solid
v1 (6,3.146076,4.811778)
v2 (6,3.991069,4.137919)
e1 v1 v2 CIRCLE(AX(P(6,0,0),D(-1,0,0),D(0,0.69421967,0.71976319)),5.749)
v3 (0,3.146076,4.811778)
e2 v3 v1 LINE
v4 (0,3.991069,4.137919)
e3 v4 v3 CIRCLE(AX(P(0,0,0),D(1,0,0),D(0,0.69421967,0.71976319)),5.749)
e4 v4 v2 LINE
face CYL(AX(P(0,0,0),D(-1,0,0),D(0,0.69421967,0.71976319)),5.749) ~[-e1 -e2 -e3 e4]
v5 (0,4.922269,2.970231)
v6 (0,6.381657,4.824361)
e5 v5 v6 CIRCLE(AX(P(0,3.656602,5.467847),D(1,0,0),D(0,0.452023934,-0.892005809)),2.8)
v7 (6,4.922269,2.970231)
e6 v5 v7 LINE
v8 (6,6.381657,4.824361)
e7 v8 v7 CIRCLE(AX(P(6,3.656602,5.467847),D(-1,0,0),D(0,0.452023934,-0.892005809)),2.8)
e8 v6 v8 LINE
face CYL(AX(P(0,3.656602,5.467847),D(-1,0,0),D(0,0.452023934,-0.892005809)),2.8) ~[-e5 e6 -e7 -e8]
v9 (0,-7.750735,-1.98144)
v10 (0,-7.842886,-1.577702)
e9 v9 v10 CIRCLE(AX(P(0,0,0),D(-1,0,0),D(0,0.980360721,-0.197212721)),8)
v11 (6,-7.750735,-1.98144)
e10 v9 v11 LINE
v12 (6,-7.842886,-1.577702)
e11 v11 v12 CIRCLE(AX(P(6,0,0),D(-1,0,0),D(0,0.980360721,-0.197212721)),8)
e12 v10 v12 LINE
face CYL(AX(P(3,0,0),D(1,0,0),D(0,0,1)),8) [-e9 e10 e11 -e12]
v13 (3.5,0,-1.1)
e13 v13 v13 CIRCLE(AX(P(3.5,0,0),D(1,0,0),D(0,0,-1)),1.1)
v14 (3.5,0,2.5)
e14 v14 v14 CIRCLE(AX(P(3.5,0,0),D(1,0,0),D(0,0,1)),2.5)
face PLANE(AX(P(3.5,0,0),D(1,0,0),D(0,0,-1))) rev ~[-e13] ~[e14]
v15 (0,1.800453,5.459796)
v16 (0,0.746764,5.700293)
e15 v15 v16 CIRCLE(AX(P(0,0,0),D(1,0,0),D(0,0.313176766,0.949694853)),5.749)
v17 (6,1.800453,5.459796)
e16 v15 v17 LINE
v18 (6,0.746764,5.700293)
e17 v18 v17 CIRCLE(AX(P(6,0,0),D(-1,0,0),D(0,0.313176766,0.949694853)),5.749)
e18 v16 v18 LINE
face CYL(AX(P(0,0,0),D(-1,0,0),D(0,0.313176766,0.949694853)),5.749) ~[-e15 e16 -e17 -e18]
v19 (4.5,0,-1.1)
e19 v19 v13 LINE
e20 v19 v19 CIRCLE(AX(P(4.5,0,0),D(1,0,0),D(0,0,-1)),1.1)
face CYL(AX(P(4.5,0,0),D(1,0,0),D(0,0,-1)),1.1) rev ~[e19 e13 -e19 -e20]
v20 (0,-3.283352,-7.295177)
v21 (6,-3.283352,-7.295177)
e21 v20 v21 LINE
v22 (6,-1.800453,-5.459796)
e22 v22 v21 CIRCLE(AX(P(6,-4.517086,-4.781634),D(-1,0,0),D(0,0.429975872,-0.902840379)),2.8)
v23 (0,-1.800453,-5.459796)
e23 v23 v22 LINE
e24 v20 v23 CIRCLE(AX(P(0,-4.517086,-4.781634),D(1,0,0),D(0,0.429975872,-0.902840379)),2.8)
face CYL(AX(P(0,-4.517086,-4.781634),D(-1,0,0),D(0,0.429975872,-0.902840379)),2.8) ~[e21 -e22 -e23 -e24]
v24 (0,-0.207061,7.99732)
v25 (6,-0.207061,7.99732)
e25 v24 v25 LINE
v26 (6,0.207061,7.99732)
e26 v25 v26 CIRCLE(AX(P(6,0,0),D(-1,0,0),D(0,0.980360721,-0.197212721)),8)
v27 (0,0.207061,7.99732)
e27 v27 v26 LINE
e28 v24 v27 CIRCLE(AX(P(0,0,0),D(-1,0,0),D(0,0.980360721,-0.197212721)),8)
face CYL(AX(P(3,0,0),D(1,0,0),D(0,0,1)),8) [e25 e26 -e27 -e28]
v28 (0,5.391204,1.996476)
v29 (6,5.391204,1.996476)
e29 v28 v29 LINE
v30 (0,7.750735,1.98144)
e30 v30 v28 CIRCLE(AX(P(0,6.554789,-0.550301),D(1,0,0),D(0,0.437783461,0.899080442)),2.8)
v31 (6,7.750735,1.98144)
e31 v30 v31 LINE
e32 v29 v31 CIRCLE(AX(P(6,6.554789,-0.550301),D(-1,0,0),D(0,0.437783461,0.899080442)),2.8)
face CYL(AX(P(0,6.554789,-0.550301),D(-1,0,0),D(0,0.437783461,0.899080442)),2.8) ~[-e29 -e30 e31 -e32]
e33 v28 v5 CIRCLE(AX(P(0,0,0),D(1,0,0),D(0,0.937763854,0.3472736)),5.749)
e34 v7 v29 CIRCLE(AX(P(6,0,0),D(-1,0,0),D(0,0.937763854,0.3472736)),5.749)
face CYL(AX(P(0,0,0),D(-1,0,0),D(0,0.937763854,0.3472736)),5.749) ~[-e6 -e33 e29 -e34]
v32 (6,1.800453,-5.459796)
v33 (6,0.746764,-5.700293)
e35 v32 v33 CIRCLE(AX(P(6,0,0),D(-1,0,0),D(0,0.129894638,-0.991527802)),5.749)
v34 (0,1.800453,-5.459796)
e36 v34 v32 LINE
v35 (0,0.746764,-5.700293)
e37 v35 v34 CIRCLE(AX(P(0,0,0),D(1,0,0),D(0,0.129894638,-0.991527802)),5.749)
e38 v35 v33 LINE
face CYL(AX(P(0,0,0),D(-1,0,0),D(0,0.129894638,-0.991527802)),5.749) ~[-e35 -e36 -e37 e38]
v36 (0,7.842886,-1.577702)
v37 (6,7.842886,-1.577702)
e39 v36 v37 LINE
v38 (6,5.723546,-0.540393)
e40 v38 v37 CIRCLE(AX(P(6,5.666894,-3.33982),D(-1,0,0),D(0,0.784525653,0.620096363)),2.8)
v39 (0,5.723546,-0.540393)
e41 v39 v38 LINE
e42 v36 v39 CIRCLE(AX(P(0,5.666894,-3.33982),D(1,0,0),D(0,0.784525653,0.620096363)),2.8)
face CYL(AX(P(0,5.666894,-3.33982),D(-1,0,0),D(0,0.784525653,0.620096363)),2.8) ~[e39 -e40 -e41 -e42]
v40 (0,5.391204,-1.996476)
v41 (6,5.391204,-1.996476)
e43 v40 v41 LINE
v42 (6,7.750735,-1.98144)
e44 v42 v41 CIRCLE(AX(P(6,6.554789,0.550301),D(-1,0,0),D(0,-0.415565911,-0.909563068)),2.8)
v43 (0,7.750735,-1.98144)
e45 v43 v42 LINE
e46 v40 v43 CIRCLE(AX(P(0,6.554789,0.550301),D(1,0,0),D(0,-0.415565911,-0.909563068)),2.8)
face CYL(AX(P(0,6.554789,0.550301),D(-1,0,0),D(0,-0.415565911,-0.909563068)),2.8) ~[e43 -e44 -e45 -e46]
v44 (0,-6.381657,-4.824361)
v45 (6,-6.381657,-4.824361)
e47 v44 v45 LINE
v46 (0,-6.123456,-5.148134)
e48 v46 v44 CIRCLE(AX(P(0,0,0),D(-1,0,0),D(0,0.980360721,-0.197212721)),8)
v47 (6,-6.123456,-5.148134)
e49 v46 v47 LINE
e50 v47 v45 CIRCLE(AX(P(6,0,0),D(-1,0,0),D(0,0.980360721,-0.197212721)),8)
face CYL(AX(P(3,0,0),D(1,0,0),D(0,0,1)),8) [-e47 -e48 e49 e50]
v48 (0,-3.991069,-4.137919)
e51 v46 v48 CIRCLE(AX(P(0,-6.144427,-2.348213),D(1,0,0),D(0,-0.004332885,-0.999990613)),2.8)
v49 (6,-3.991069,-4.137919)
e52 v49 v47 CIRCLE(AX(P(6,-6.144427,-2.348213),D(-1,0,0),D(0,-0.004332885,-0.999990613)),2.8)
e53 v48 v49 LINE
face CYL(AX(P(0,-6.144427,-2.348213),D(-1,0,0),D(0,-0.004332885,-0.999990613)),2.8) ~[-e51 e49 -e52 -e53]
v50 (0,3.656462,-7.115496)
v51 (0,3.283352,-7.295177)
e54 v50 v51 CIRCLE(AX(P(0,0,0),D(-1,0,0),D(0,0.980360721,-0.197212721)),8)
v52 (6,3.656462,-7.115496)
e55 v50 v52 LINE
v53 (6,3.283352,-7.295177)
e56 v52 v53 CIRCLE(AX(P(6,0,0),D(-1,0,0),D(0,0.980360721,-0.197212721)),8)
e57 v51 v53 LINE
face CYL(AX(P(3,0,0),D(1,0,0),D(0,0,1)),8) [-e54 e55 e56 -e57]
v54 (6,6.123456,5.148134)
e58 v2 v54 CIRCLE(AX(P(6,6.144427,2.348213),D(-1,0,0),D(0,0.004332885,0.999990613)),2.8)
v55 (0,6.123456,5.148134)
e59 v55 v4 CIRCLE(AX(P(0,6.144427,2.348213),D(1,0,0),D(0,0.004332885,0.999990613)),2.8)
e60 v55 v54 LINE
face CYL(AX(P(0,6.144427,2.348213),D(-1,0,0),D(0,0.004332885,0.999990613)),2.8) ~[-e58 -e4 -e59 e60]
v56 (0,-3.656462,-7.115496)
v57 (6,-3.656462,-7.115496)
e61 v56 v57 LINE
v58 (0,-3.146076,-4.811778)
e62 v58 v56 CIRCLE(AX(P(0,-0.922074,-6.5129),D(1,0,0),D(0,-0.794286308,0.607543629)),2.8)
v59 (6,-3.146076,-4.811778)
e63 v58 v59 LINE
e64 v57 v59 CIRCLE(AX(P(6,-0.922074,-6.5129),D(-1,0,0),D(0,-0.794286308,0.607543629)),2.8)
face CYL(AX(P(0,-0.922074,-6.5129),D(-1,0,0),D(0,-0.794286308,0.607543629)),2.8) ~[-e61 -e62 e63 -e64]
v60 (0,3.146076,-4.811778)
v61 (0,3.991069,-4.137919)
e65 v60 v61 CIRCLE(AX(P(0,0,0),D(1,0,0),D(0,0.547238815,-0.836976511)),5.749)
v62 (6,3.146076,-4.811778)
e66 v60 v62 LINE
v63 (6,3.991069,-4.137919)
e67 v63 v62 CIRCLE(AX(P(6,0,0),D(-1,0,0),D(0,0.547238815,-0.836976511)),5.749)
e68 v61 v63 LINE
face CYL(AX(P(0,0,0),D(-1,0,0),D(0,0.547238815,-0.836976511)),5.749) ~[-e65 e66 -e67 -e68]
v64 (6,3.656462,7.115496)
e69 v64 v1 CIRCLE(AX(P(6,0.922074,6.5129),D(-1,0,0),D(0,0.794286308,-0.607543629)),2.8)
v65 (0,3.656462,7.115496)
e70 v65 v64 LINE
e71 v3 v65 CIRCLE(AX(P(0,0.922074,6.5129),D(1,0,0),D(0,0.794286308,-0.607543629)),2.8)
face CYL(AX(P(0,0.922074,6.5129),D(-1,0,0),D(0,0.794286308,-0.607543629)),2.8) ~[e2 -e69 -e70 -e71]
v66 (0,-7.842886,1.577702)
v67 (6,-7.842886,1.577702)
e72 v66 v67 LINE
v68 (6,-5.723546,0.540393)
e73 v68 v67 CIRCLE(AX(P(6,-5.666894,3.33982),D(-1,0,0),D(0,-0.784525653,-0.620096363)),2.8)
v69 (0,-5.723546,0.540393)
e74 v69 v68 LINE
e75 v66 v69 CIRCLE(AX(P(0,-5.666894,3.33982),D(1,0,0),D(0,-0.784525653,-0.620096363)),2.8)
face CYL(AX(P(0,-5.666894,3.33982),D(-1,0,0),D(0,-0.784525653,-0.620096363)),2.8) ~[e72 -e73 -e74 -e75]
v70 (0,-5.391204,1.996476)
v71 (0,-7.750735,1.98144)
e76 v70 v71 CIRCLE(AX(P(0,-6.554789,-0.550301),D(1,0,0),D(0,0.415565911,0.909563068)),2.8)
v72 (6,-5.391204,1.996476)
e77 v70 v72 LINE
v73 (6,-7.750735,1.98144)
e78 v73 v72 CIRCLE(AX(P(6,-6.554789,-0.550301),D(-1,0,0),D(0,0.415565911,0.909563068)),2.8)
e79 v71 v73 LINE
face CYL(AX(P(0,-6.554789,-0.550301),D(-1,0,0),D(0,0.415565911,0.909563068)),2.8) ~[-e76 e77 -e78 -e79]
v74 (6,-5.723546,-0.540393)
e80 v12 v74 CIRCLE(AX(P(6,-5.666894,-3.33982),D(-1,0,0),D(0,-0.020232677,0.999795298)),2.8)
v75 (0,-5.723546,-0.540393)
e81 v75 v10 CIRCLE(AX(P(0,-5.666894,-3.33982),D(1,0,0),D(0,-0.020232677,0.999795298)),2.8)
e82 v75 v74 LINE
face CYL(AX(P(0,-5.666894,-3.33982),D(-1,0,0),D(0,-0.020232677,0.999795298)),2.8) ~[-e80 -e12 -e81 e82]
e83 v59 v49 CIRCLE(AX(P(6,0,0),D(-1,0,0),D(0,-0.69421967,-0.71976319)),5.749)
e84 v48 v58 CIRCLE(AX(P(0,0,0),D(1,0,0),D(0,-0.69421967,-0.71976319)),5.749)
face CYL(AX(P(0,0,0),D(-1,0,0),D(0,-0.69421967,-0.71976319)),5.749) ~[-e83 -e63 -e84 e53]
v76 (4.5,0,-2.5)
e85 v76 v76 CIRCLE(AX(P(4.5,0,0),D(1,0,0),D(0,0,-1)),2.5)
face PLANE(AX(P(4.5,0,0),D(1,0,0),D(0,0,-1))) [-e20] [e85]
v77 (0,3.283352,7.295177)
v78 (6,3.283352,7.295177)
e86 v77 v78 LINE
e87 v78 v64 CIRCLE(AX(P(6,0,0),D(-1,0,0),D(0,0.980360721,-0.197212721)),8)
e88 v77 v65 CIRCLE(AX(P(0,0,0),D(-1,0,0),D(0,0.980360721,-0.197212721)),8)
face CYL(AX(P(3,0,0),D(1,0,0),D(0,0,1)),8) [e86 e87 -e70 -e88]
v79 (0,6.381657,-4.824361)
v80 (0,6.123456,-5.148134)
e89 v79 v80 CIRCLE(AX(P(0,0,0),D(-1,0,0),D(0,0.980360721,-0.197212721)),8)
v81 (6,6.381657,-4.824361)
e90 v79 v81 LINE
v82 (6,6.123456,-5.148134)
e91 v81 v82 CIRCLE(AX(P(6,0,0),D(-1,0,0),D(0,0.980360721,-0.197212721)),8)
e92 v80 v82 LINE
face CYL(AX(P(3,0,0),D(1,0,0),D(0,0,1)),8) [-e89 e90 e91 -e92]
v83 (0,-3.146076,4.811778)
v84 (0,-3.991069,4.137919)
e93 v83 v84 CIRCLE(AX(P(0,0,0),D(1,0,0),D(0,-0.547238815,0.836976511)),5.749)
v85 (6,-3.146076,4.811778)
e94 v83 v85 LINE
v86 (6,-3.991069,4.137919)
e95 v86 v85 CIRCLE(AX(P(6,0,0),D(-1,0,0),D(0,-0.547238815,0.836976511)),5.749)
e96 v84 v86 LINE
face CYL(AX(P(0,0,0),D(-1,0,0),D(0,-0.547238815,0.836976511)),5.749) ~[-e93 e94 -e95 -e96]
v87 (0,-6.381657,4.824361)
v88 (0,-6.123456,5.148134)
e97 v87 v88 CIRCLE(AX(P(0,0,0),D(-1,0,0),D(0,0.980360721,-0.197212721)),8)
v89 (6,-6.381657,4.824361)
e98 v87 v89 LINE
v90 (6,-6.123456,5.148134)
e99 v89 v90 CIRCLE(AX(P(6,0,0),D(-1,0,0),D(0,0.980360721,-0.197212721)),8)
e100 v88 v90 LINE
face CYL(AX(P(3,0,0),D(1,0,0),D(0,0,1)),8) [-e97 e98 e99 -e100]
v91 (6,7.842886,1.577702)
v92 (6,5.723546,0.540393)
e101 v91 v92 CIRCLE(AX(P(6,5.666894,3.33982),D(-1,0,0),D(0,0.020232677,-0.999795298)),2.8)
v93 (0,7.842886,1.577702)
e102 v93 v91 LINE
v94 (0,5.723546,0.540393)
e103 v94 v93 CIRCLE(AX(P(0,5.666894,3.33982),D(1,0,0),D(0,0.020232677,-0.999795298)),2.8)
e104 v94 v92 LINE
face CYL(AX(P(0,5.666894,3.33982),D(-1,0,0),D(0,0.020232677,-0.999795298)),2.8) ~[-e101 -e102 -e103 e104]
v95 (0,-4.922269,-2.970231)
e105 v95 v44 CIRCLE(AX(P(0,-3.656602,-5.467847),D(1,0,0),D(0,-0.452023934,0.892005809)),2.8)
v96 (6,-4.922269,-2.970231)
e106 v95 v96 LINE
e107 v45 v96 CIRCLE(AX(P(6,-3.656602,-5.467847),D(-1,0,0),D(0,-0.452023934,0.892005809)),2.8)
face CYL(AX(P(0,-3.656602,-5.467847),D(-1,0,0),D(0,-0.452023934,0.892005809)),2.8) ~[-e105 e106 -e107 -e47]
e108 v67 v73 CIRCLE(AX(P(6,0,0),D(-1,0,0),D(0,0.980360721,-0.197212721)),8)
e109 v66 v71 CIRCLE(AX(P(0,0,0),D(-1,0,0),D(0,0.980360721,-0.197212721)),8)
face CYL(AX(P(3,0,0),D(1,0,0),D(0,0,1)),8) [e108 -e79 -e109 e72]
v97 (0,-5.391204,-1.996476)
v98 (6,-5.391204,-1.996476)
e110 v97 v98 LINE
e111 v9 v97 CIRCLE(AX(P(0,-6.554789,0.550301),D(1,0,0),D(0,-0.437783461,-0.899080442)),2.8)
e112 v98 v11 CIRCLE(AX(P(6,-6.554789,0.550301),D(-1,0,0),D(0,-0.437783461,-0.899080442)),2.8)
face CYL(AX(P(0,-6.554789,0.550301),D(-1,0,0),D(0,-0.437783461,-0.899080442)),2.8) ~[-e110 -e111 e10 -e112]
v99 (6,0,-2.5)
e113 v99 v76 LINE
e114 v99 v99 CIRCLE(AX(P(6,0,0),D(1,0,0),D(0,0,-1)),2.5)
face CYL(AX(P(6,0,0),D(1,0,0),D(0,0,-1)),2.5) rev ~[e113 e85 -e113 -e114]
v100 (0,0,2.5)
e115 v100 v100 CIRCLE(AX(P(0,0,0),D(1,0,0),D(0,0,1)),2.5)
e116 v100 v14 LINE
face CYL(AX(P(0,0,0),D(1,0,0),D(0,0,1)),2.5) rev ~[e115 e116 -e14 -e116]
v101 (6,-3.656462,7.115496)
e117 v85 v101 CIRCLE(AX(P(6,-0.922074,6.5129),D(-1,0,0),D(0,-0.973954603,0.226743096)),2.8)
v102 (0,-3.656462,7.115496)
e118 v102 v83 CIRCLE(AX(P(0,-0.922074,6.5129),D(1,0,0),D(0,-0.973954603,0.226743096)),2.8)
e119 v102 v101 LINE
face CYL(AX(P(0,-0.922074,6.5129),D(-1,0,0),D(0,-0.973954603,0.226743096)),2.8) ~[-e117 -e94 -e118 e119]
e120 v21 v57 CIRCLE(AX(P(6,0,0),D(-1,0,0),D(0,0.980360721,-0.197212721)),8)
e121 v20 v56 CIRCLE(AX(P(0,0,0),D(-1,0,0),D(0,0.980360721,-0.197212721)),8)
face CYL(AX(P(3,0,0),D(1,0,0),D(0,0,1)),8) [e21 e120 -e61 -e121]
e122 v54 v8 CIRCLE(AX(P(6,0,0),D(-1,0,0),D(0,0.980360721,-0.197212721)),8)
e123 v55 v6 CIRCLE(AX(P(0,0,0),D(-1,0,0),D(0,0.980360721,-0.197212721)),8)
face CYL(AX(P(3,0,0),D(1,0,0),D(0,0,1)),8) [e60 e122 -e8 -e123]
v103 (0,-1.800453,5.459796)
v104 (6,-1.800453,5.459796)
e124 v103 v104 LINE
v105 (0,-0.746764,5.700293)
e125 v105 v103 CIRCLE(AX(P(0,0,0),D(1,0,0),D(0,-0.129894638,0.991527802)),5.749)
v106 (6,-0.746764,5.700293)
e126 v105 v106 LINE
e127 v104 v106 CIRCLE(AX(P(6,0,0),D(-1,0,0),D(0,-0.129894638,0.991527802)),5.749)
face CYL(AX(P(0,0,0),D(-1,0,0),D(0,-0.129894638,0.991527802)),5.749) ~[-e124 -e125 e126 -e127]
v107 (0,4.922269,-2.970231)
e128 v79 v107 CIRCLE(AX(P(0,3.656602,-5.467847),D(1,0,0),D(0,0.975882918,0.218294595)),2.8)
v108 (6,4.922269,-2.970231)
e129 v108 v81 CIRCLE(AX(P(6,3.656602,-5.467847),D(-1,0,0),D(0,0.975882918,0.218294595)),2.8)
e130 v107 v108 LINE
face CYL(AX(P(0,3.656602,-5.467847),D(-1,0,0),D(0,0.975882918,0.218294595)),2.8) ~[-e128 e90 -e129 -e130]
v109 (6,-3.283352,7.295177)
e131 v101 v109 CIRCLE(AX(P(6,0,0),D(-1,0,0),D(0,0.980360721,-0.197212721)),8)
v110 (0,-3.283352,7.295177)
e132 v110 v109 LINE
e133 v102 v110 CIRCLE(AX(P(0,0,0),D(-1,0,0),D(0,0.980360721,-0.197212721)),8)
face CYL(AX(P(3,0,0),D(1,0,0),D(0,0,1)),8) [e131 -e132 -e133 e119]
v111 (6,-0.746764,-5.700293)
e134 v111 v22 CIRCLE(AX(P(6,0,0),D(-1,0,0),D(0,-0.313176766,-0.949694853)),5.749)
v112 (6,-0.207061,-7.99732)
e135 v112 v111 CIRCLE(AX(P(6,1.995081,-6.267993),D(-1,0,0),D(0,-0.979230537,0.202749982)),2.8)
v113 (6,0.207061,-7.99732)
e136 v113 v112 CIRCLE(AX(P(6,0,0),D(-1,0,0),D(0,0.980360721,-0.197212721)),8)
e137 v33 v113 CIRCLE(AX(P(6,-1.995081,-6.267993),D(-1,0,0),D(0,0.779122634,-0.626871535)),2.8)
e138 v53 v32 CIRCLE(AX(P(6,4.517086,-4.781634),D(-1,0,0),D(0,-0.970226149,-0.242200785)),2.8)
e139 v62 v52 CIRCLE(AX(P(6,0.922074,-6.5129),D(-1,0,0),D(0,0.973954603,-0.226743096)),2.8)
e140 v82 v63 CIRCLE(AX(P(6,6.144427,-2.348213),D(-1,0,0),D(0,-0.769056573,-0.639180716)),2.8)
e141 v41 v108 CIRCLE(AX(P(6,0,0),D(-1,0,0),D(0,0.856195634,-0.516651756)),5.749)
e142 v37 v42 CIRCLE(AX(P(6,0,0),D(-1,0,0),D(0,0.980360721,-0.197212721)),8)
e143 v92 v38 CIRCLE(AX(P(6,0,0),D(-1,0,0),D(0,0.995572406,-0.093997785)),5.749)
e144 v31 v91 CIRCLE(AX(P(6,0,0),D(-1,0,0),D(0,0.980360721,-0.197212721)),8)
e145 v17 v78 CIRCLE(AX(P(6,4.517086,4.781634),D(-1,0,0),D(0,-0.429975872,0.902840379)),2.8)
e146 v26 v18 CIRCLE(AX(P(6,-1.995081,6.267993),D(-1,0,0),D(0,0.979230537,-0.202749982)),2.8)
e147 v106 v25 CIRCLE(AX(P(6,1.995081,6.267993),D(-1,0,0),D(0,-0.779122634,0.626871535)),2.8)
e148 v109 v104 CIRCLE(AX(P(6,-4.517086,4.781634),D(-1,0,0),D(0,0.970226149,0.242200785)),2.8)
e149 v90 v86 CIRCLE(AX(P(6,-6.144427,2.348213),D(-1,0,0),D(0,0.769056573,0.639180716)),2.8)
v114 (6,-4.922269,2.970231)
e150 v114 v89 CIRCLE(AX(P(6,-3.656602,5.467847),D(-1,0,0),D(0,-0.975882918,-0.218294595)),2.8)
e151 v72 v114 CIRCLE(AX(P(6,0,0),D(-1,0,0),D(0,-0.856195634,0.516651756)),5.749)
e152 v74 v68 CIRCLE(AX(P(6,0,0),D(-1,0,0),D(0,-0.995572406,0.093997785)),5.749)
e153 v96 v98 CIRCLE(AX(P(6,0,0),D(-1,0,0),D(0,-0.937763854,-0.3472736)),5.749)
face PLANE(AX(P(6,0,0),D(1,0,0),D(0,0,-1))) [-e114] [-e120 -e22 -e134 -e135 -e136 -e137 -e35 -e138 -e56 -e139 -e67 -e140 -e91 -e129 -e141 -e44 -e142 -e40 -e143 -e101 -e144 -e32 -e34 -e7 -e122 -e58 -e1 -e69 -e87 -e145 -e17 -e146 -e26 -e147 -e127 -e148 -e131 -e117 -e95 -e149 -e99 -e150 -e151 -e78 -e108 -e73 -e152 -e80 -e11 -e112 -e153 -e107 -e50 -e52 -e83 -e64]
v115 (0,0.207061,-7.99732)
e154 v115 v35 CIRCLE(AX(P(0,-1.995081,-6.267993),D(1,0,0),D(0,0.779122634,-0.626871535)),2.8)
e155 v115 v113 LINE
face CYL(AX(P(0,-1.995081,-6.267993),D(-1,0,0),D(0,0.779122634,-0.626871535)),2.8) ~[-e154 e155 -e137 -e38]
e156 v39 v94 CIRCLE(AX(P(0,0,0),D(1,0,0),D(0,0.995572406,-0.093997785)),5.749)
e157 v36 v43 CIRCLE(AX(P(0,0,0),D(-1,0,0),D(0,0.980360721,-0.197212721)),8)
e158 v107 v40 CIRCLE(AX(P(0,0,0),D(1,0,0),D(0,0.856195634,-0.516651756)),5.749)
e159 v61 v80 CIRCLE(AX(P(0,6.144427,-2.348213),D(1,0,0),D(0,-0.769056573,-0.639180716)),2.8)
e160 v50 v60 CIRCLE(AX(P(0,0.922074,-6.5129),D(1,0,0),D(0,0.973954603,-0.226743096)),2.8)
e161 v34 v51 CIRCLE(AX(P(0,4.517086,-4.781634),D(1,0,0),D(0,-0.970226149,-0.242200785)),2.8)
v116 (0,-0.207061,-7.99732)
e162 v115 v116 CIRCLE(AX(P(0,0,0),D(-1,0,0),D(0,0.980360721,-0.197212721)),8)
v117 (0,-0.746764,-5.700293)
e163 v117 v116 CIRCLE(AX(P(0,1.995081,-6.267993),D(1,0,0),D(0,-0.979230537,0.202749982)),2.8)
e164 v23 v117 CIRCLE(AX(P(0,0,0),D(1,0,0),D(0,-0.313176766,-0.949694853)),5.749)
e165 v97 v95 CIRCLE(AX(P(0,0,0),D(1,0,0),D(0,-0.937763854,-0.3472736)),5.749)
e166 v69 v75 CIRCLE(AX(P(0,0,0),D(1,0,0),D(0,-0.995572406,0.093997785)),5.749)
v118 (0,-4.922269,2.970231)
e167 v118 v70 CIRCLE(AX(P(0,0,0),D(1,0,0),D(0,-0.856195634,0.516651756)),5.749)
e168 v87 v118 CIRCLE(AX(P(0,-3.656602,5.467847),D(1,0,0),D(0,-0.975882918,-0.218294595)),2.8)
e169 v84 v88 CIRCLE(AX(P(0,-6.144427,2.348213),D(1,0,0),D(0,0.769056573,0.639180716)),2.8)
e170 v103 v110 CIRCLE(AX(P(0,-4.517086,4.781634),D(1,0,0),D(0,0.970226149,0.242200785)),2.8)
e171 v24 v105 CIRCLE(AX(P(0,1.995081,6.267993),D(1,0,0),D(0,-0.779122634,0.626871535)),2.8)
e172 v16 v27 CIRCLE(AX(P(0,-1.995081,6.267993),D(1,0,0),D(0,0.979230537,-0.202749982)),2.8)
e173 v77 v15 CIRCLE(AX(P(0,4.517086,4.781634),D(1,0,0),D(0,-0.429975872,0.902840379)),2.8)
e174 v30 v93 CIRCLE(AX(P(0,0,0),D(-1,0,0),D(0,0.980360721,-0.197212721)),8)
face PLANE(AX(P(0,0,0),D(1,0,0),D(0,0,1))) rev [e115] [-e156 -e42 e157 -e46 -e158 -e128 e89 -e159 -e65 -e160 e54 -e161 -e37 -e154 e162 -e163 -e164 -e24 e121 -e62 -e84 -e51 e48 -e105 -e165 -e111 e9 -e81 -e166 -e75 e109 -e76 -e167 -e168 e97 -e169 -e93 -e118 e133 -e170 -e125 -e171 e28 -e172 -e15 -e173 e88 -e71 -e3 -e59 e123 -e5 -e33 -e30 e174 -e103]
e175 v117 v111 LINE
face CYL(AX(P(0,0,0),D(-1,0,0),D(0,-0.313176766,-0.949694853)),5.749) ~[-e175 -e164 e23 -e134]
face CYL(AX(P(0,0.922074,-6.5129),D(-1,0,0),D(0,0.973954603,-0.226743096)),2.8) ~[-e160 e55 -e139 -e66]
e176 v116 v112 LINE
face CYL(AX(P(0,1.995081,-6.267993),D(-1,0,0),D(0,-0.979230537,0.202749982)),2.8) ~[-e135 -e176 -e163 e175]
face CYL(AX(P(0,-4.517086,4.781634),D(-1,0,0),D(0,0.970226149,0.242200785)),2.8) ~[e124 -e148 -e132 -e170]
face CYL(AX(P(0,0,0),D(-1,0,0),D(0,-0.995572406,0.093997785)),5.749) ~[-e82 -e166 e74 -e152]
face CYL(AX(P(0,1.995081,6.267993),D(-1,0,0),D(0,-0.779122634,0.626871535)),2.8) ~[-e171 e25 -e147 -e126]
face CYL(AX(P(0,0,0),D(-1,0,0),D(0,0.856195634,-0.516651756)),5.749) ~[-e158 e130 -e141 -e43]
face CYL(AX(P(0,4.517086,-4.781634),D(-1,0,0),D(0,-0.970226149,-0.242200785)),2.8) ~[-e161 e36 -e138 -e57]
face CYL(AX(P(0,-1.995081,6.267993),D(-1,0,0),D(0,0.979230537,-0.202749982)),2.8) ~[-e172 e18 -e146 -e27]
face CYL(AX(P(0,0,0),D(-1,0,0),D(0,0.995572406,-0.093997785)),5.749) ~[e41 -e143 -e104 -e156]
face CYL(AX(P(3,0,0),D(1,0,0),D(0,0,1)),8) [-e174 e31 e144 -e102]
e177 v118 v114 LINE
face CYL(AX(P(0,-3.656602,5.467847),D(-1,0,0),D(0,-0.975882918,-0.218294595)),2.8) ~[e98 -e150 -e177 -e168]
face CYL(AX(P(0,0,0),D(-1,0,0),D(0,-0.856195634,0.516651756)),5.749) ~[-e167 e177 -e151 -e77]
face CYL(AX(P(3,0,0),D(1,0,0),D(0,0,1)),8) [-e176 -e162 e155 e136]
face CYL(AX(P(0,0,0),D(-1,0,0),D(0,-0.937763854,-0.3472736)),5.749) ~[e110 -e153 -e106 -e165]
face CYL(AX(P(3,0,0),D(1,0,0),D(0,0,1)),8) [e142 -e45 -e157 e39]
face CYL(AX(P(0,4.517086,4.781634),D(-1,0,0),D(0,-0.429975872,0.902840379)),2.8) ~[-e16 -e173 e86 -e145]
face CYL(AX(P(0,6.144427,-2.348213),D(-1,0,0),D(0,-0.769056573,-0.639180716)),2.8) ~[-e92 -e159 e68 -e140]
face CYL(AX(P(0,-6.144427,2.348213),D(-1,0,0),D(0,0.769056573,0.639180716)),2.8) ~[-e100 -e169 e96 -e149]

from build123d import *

# Parameters (mm, degrees)
BASPROSKE_W         = 6
BASPROSKE_H         = 8
TOOTHCUT_DEPTH      = 13.806248475
TEETHCUTS_COUNT     = 14
TEETHCUTS_ANGLE     = 334.285714286
BORSKE_R            = 2.5
BORE_DEPTH          = 50.0000508
SKETCH1_R           = 2.5
BOSS_EXTRUDE1_DEPTH = 2.5
SKETCH2_R           = 2.5
CUT_EXTRUDE1_DEPTH  = 1.5
SKETCH3_R           = 1.1
CUT_EXTRUDE2_DEPTH  = 13.073146116


with BuildPart() as part:
    # BasProSke → Base-Revolve (revolve)
    with BuildSketch(Plane(origin=(0, 0, 0), x_dir=(1, 0, 0), z_dir=(0, 1, 0)), mode=Mode.PRIVATE) as base_revolve_sk:
        with Locations((3, 4)):
            Rectangle(BASPROSKE_W, BASPROSKE_H)
    revolve(base_revolve_sk.sketch.rotate(Axis((-10, 0, 0), (1, 0, 0)), 180), axis=Axis((-10, 0, 0), (1, 0, 0)))

    # TooCutSke → ToothCut (cut, through all)
    with BuildSketch(Plane(origin=(0, 0, 0), x_dir=(0, 0, -1), z_dir=(1, 0, 0))):
        with BuildLine():
            ThreePointArc((0.540393256, 5.723545765), (0, 5.749), (-0.540393256, 5.723545765))
            ThreePointArc((-0.540393256, 5.723545765), (-0.832220085, 6.912663993), (-1.603550271, 7.863566092))
            ThreePointArc((-1.603550271, 7.863566092), (0, 8.0254), (1.603550271, 7.863566092))
            ThreePointArc((1.603550271, 7.863566092), (0.832220085, 6.912663993), (0.540393256, 5.723545765))
        make_face()
    toothcut = extrude(amount=TOOTHCUT_DEPTH, mode=Mode.SUBTRACT)

    # TeethCuts: ToothCut ×14 about axis
    teethcuts_axis = Axis((-10, 0, 0), (1, 0, 0))
    for i in range(1, TEETHCUTS_COUNT):
        add(toothcut.rotate(teethcuts_axis, i * TEETHCUTS_ANGLE / (TEETHCUTS_COUNT - 1)), mode=Mode.SUBTRACT)

    # BorSke → Bore (cut, symmetric)
    with BuildSketch(Plane(origin=(0, 0, 0), x_dir=(0, 0, -1), z_dir=(1, 0, 0))):
        with Locations(Location((0, 0, 0), (0, 0, 180))):
            Circle(BORSKE_R)
    extrude(amount=BORE_DEPTH, both=True, mode=Mode.SUBTRACT)

    # Sketch1 → Boss-Extrude1 (add)
    with BuildSketch(Plane(origin=(6, 0, 0), x_dir=(0, 0, -1), z_dir=(1, 0, 0))):
        Circle(SKETCH1_R)
    extrude(amount=-BOSS_EXTRUDE1_DEPTH)

    # Sketch2 → Cut-Extrude1 (cut)
    with BuildSketch(Plane(origin=(6, 0, 0), x_dir=(0, 0, -1), z_dir=(1, 0, 0))):
        Circle(SKETCH2_R)
    extrude(amount=-CUT_EXTRUDE1_DEPTH, mode=Mode.SUBTRACT)

    # Sketch3 → Cut-Extrude2 (cut, through all)
    with BuildSketch(Plane(origin=(4.5, 0, 0), x_dir=(0, 0, -1), z_dir=(1, 0, 0))):
        Circle(SKETCH3_R)
    extrude(amount=-CUT_EXTRUDE2_DEPTH, mode=Mode.SUBTRACT)


solid = part.part
